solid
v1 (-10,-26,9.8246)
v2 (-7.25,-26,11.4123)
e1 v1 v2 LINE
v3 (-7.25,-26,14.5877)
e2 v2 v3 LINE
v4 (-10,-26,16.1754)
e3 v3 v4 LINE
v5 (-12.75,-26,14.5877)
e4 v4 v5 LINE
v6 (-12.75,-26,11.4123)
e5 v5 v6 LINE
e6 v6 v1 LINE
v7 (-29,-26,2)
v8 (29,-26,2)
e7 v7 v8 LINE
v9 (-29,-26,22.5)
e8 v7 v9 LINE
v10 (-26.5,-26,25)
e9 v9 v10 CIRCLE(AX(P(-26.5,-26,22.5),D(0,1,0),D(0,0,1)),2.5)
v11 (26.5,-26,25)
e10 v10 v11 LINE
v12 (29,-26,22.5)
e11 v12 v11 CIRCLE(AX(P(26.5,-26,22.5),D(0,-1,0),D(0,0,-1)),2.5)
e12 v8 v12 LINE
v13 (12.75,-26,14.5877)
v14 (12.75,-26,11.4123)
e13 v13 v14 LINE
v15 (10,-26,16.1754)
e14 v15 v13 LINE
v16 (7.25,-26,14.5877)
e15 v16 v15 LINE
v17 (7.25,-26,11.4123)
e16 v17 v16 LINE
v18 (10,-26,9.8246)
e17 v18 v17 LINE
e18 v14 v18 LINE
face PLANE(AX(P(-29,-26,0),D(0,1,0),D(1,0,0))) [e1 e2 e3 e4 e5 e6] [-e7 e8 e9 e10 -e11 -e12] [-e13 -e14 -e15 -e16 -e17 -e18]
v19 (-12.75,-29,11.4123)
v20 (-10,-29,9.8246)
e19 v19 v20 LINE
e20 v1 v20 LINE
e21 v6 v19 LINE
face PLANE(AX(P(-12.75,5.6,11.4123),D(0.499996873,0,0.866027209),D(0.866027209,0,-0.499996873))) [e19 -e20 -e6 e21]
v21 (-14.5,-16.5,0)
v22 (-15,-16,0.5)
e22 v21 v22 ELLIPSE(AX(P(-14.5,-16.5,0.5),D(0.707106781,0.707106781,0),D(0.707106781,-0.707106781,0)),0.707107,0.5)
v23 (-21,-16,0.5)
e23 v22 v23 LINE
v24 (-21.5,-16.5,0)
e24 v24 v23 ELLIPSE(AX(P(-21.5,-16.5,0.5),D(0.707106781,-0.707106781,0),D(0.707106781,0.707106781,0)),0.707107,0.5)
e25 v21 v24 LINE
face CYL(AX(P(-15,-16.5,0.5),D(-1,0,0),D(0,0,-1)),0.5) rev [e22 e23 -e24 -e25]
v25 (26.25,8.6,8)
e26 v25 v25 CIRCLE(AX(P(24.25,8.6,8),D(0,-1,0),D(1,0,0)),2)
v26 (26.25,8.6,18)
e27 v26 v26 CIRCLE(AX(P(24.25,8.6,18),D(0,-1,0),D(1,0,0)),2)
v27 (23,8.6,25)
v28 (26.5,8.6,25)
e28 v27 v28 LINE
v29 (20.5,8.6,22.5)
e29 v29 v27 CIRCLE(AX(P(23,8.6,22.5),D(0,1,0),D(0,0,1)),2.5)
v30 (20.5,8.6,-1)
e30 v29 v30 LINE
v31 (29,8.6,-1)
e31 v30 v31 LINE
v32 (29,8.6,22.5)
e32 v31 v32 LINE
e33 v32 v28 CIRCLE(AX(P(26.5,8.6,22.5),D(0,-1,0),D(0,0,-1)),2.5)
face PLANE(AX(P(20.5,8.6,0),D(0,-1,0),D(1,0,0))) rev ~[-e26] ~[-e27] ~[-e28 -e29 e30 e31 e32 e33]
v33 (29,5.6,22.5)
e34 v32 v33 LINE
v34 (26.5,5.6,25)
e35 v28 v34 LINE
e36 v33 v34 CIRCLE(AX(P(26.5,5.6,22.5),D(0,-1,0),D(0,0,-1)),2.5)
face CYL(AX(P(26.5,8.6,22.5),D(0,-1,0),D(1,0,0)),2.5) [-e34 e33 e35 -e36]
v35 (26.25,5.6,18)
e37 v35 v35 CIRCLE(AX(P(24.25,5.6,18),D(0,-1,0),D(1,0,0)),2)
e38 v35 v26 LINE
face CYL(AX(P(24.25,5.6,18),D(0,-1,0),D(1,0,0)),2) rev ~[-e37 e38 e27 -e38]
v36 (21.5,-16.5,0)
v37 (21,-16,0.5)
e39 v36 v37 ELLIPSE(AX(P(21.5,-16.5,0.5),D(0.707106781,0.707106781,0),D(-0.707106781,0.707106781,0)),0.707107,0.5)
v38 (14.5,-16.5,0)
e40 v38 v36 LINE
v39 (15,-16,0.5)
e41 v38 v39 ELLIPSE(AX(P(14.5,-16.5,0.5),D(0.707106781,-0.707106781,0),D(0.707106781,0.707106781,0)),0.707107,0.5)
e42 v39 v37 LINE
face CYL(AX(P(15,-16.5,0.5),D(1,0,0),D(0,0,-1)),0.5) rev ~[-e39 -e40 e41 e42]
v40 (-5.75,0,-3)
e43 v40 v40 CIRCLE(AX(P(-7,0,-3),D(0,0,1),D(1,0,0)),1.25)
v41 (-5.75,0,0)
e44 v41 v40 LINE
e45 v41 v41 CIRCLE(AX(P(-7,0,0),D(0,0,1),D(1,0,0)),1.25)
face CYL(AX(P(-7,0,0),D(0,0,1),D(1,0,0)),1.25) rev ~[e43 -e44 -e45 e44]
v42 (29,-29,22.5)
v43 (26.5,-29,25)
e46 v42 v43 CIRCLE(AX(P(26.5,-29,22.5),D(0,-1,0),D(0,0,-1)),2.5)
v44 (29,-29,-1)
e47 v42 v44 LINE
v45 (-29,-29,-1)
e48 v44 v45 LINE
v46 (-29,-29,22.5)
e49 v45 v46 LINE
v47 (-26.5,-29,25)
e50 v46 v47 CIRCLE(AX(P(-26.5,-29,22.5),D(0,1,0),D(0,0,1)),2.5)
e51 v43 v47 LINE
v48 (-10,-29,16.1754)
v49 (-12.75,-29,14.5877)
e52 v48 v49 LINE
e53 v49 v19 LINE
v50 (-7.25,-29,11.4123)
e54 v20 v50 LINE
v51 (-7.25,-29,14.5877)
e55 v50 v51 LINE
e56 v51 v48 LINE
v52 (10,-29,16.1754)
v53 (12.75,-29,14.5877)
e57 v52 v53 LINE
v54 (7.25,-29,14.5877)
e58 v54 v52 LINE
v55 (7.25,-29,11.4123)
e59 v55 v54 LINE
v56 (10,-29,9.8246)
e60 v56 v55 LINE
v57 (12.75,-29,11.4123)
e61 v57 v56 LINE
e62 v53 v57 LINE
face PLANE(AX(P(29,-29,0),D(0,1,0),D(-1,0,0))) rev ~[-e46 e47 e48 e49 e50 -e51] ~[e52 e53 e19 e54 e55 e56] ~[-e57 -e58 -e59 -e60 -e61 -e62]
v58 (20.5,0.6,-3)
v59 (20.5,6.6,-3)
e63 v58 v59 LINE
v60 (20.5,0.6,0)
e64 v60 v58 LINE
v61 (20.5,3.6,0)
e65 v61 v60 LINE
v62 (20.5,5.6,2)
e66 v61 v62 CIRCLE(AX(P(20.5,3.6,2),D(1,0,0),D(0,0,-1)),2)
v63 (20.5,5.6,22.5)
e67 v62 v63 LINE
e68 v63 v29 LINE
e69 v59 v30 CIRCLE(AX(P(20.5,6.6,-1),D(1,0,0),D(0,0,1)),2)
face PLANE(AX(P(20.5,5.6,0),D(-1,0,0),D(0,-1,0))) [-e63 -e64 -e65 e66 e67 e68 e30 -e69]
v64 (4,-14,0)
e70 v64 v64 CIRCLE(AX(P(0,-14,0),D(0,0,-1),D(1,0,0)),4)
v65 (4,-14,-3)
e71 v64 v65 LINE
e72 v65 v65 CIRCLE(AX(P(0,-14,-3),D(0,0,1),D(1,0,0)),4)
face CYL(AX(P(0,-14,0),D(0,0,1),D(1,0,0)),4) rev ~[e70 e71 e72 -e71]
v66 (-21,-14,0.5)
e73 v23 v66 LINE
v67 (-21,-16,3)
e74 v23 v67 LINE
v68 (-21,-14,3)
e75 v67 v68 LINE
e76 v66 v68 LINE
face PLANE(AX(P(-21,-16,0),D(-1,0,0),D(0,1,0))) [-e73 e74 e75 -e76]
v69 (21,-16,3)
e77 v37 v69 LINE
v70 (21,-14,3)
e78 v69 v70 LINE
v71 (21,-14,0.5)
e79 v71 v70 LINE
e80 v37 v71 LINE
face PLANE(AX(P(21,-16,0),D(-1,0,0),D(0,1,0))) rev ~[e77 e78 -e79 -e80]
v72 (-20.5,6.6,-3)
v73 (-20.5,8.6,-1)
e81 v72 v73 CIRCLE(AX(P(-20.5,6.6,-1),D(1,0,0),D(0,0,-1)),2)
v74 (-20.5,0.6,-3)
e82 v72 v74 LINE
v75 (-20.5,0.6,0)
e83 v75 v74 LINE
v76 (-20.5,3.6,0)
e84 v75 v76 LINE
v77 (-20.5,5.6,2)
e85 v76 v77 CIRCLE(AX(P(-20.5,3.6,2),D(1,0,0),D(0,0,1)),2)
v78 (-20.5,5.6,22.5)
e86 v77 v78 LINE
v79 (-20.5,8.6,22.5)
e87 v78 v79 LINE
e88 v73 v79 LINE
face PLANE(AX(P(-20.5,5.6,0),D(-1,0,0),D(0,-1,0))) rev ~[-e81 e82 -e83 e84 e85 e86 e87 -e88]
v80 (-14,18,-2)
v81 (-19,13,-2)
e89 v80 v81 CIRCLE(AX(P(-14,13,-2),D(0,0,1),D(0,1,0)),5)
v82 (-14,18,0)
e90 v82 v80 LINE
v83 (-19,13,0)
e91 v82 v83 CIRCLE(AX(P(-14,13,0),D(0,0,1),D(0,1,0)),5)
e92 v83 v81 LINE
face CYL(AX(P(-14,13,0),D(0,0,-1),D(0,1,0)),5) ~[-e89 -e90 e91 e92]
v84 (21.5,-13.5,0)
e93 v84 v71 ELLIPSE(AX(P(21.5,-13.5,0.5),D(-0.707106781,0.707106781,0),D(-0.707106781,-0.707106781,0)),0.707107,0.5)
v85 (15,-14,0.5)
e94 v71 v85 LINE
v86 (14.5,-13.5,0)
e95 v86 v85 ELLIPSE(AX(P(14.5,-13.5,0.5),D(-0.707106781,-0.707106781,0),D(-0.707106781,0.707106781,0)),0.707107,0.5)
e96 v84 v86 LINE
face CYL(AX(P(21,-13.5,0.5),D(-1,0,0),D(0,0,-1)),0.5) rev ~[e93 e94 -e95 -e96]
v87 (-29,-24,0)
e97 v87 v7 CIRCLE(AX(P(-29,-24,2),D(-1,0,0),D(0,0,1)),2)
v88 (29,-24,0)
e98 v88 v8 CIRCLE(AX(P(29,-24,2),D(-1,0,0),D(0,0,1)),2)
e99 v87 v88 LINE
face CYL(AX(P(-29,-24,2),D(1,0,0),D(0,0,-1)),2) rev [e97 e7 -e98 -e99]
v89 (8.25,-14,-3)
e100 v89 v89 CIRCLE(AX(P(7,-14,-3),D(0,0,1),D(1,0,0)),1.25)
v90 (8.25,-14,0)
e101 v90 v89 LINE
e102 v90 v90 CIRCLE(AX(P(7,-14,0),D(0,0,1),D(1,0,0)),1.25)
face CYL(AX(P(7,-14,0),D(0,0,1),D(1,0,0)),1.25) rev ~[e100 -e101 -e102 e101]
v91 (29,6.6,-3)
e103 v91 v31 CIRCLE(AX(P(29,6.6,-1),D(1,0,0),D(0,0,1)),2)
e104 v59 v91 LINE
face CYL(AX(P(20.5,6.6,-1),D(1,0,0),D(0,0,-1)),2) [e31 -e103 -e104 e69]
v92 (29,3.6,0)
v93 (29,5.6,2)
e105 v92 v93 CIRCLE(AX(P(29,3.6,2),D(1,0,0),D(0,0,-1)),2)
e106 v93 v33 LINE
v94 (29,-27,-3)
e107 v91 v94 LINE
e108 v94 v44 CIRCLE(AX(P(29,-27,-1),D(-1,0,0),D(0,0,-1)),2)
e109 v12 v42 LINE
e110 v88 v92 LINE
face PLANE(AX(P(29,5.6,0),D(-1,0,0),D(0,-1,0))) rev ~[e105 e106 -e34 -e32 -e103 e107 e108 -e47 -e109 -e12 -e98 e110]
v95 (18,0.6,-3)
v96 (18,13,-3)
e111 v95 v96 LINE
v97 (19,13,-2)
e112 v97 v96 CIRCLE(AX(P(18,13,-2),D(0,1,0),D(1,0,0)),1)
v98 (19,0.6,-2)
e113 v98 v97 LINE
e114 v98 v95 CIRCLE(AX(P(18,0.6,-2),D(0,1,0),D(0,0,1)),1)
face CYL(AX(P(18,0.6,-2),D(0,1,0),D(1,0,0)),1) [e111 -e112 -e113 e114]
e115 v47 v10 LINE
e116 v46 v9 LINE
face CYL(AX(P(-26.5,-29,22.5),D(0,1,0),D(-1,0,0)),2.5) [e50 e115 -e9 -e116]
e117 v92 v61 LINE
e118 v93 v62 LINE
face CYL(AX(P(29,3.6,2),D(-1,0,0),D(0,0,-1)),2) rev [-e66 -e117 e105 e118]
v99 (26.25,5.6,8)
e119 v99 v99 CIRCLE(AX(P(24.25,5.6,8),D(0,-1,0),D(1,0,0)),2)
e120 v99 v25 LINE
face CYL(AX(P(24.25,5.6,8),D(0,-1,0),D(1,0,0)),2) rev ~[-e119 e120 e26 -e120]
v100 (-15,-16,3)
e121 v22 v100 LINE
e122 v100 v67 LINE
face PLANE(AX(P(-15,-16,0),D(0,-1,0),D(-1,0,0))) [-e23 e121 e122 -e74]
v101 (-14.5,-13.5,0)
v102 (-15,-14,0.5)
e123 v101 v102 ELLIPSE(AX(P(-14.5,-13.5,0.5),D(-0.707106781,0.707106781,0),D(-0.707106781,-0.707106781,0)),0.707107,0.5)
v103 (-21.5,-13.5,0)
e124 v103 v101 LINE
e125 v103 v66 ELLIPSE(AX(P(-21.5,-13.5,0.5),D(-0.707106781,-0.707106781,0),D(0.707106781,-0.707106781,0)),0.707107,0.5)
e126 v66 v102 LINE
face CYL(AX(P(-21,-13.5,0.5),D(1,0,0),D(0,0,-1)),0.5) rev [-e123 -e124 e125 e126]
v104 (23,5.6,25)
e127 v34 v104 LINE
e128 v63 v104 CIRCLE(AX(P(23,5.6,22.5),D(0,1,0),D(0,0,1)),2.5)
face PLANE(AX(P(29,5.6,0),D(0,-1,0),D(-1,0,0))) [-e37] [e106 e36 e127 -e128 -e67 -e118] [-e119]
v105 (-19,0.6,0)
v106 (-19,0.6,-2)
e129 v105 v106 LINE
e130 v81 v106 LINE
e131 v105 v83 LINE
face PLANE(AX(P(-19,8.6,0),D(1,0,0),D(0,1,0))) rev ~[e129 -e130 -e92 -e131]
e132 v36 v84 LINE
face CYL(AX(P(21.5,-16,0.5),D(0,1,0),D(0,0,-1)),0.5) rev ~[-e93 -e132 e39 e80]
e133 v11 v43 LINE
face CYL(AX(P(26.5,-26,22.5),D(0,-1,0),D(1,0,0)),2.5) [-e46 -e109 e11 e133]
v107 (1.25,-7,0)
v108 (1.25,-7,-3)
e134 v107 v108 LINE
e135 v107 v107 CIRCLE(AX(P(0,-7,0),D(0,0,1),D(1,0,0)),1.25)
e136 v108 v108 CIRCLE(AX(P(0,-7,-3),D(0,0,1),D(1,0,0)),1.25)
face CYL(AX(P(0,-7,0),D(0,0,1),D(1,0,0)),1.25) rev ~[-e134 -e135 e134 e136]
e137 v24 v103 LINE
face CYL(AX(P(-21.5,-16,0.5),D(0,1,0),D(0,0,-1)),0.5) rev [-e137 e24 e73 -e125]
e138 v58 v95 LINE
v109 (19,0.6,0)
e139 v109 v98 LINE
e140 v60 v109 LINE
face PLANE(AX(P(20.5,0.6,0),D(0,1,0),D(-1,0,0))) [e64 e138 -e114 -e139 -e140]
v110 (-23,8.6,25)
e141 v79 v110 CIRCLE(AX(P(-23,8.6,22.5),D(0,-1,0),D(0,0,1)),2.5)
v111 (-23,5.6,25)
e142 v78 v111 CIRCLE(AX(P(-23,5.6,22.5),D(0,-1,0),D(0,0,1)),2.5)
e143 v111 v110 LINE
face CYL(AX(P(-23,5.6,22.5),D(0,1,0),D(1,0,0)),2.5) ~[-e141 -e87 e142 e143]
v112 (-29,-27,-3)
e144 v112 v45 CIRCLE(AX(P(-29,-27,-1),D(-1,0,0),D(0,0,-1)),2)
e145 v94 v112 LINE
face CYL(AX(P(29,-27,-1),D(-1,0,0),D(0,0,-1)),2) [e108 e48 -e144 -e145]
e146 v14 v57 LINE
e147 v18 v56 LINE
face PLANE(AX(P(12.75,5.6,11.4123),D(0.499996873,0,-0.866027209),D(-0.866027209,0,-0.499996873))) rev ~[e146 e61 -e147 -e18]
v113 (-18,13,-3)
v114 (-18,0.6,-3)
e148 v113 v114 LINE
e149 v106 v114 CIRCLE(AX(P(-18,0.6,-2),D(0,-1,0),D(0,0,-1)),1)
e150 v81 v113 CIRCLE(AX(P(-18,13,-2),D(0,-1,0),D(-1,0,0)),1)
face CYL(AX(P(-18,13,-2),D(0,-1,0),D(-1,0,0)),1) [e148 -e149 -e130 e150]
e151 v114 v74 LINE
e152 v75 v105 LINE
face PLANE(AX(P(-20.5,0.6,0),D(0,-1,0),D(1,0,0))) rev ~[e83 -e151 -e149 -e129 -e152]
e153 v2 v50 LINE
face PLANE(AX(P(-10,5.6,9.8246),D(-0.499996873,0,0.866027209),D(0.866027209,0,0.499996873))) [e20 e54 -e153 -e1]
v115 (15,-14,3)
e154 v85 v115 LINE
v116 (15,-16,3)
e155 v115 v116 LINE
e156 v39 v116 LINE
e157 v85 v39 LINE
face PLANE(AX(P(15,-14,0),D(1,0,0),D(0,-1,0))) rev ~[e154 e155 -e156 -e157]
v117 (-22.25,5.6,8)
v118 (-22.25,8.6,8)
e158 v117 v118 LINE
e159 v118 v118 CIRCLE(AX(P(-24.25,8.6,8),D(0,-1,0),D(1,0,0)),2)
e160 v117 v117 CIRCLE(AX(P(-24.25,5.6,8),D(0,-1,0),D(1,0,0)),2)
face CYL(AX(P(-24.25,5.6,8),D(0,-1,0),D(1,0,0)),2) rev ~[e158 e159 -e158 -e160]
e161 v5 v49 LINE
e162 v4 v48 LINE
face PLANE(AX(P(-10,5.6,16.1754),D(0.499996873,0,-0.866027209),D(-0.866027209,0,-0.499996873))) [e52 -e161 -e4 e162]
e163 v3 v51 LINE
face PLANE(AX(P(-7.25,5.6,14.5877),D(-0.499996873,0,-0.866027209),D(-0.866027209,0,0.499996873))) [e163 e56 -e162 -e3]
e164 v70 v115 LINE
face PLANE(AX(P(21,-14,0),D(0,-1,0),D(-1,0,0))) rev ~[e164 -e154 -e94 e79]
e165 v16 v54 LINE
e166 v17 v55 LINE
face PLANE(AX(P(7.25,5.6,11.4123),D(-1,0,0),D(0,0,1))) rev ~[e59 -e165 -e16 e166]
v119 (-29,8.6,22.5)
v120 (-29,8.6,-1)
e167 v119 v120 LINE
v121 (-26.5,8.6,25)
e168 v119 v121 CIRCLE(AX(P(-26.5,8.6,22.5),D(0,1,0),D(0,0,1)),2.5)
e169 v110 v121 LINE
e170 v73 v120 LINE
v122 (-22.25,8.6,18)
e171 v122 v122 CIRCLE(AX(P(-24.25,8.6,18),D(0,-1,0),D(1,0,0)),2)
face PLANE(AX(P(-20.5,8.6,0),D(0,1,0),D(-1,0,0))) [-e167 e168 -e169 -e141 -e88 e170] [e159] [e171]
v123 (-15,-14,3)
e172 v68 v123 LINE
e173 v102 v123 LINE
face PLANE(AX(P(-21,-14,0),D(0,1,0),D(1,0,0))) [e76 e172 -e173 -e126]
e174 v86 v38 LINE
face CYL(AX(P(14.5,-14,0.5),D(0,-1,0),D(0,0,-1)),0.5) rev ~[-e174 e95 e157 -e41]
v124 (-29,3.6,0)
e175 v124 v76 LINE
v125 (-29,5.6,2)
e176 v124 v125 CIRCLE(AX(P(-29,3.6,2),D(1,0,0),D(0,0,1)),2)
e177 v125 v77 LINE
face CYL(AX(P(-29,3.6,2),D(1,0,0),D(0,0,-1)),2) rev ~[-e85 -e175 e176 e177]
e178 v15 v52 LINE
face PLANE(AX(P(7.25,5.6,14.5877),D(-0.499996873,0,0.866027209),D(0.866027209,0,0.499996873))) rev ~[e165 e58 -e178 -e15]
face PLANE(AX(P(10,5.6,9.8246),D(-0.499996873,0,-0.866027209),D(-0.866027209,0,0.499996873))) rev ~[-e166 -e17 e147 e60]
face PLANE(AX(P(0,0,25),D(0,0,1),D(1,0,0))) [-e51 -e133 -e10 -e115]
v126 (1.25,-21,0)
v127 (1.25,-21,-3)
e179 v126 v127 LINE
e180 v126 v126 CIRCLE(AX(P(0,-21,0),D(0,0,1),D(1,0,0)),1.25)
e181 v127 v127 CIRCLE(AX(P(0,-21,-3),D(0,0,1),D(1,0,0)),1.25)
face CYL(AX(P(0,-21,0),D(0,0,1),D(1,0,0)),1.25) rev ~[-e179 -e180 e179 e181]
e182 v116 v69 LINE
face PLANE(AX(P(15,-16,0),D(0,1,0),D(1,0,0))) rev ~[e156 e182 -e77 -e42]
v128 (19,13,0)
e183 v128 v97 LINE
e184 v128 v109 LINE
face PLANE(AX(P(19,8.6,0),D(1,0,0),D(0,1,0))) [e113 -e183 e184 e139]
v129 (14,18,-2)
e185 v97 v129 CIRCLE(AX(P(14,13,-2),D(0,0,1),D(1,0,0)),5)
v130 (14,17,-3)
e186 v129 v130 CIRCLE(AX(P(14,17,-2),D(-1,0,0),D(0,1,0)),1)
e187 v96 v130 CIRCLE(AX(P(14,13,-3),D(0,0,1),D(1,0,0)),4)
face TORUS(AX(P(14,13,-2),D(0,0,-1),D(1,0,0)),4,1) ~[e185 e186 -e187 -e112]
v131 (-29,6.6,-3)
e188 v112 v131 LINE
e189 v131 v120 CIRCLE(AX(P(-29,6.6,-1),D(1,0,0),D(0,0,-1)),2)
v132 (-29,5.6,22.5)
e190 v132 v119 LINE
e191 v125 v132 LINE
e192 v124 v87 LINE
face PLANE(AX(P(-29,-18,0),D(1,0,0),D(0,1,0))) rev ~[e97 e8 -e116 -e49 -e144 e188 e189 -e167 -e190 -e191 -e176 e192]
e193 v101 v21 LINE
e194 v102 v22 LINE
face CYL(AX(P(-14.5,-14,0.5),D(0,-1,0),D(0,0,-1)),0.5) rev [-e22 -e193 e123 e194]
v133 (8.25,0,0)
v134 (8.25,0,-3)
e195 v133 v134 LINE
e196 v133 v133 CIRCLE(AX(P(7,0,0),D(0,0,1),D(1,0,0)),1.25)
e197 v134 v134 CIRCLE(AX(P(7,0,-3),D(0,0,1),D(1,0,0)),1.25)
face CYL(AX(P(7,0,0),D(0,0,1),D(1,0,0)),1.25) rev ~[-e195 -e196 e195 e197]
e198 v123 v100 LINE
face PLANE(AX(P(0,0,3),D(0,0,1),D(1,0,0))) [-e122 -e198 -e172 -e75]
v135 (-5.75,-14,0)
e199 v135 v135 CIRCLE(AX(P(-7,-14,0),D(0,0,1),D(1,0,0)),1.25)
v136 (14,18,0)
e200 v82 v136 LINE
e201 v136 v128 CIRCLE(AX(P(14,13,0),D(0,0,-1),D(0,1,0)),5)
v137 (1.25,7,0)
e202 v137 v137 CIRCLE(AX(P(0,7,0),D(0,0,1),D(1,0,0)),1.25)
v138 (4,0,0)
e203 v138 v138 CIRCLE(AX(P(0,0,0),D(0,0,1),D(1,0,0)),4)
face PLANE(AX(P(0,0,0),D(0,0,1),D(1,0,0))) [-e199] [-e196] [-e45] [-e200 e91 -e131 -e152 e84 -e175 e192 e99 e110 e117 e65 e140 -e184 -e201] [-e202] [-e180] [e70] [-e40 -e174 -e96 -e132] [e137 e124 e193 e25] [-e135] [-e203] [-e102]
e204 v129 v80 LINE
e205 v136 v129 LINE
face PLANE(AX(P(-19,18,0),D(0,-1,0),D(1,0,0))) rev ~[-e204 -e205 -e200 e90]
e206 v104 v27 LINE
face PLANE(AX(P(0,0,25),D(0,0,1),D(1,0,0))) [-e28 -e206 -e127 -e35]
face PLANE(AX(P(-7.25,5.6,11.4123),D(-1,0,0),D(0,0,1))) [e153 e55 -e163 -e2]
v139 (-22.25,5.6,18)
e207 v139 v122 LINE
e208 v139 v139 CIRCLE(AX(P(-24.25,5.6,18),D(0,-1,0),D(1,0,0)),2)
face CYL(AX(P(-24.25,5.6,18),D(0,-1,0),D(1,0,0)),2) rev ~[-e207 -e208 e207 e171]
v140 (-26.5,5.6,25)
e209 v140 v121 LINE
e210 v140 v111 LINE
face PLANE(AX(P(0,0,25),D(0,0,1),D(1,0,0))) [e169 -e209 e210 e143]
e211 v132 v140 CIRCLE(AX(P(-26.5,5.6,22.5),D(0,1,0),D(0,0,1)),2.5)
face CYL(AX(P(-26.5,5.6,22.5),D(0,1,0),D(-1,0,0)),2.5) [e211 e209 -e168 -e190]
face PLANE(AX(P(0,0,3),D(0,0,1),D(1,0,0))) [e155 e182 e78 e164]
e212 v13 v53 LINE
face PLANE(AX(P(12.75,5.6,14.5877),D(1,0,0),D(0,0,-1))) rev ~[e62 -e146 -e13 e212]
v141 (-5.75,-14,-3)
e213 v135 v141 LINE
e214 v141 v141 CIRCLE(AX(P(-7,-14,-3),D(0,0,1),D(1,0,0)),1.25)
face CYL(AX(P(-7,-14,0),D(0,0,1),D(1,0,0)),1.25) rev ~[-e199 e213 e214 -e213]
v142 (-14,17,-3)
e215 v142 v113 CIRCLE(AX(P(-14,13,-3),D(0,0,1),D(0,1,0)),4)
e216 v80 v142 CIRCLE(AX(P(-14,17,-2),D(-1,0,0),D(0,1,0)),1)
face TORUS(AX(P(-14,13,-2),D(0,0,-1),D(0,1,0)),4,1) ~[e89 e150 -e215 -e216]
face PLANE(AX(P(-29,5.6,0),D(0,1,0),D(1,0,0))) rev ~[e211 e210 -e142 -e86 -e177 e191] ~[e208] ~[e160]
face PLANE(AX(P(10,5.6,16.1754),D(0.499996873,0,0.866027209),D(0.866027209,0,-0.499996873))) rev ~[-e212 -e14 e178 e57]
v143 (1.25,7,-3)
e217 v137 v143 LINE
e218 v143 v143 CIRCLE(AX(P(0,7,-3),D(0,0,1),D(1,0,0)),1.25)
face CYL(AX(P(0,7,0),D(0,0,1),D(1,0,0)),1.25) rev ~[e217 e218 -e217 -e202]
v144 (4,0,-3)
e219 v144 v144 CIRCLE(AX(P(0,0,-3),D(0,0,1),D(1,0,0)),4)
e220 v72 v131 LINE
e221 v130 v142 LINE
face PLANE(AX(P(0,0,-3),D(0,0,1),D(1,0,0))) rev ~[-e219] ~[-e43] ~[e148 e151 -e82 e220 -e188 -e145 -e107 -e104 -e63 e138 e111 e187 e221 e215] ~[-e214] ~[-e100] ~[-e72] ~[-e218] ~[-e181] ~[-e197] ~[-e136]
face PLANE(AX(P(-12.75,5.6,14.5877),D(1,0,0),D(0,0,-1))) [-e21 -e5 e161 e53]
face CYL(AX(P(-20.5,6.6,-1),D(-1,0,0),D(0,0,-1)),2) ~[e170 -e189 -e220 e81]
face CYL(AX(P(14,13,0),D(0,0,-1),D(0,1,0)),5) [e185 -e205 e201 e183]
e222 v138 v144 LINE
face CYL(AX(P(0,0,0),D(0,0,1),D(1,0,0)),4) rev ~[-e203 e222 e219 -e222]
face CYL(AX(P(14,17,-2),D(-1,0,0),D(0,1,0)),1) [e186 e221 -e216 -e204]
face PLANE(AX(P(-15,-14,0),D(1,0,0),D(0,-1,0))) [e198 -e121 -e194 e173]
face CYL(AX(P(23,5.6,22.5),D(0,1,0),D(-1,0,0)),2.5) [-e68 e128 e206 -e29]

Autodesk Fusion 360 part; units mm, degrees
sketch "Sketch1" plane through (0, 0, 0) normal (0, 0, 1) x (1, 0, 0)
  line L0 (-29, 18) -> (29, 18)
  line L1 (29, 18) -> (29, -18)
  line L2 (29, -18) -> (-29, -18)
  line L3 (-29, -18) -> (-29, 18)
  line L4 (-29, 18) -> (29, -18) construction
  line L5 (29, 18) -> (-29, -18) construction
  line L6 (29, 8.6) -> (-29, 8.6) construction
  line L7 (-29, -18) -> (-29, -26)
  line L8 (-29, -26) -> (29, -26)
  line L9 (29, -26) -> (29, -18)
  line L10 (29, -26) -> (29, -29)
  line L11 (29, -29) -> (-29, -29)
  line L12 (-29, -29) -> (-29, -26)
  line L13 (-29, 5.6) -> (-20.5, 5.6)
  line L14 (-20.5, 5.6) -> (-20.5, 8.6)
  line L15 (-20.5, 8.6) -> (-29, 8.6)
  line L16 (-20.5, 5.6) -> (-20.5, 0.6)
  line L17 (-20.5, 0.6) -> (-19, 0.6)
  line L18 (-19, 0.6) -> (-19, 8.6)
  line L19 (0, -29) -> (0, 18) construction
  line L20 (20.5, 8.6) -> (29, 8.6)
  line L21 (20.5, 5.6) -> (20.5, 8.6)
  line L22 (29, 5.6) -> (20.5, 5.6)
  line L23 (20.5, 5.6) -> (20.5, 0.6)
  line L24 (20.5, 0.6) -> (19, 0.6)
  line L25 (19, 0.6) -> (19, 8.6)
  circle A0 centre (0, 0) radius 4
  circle A1 centre (0, 0) radius 7 construction
  circle A2 centre (0, 7) radius 1.25
  circle A3 centre (-7, 0) radius 1.25
  circle A4 centre (0, -7) radius 1.25
  circle A5 centre (7, 0) radius 1.25
  line L26 (-19, 8.6) -> (-20.5, 8.6)
  line L27 (19, 8.6) -> (20.5, 8.6)
  line L28 (-19, 8.6) -> (-19, 18)
  line L29 (19, 8.6) -> (19, 18)
  line L30 (-21, -14) -> (-15, -14)
  line L31 (-15, -14) -> (-15, -16)
  line L32 (-15, -16) -> (-21, -16)
  line L33 (-21, -16) -> (-21, -14)
  line L34 (15, -14) -> (15, -16)
  line L35 (21, -16) -> (21, -14)
  line L36 (15, -16) -> (21, -16)
  line L37 (21, -14) -> (15, -14)
  line L38 (0, -7) -> (29, -7) construction
  circle A6 centre (0, -14) radius 4
  circle A7 centre (0, -21) radius 1.25
  circle A8 centre (7, -14) radius 1.25
  circle A9 centre (-7, -14) radius 1.25
  dimension "d4" = 36
  dimension "d5" = 58
  dimension "d9" = 26.6
  dimension "d11" = 8
  dimension "d12" = 8
  dimension "d13" = 3
  dimension "d14" = 3
  dimension "d16" = 8.5
  dimension "d17" = 3
  dimension "d18" = 1.5
  dimension "d19" = 8
  dimension "d22" = 8
  dimension "d23" = 14
  dimension "d24" = 2.5
  dimension "d26" = 360
  dimension "d56" = 2
  dimension "d57" = 6
  dimension "d58" = 8
  dimension "d59" = 2
extrude "Extrude3" add sketch "Sketch1" against normal blind 3 contours L0 L1 L2 L3 L13 L16 L17 L18 L22 L23 L24 L25 L28 L29 | L3 L13 L14 L15 | L2 L7 L8 L9 | L1 L20 L21 L22 | L8 L10 L11 L12 | L30 L31 L32 L33 | L34 L35 L36 L37
extrude "Extrude4" add sketch "Sketch1" along normal blind 25 contours L3 L13 L14 L15 | L1 L20 L21 L22 | L8 L10 L11 L12
fillet "Fillet1" radius 2.5 6 edges at (29, -27.5, 25) (-29, -27.5, 25) (29, 7.1, 25) (-29, 7.1, 25) (-20.5, 7.1, 25) (20.5, 7.1, 25)
fillet "Fillet2" radius 5 2 edges at (19, 18, -1.5) (-19, 18, -1.5)
fillet "Fillet3" radius 2 6 edges at (0, -26, 0) (0, -29, -3) (24.75, 5.6, 0) (24.75, 8.6, -3) (-24.75, 8.6, -3) (-24.75, 5.6, 0)
fillet "Fillet3" radius 1 6 edges at (-19, 6.8, -3) (-17.5355, 16.5355, -3) (0, 18, -3) (17.5355, 16.5355, -3) (19, 10.8, -3) (19, 4.6, -3)
sketch "Sketch3" plane through (0, 5.6, 0) normal (0, -1, 0) x (1, 0, 0)
  line L0 (-29, 2) -> (-20.5, 2)
  line L1 (-20.5, 2) -> (-20.5, 22.5)
  arc A0 (-20.5, 22.5) -> (-23, 25) centre (-23, 22.5) ccw
  line L2 (-23, 25) -> (-26.5, 25)
  arc A1 (-26.5, 25) -> (-29, 22.5) centre (-26.5, 22.5) ccw
  line L3 (-29, 22.5) -> (-29, 2)
  line L4 (0, 0) -> (0, 25) construction
  line L5 (0, 0) -> (-24.25, 0) construction
  line L6 (-24.25, 0) -> (-24.25, 25) construction
  line L7 (-24.25, 12.5) -> (0, 12.5) construction
  circle A2 centre (-24.25, 8) radius 2
  circle A3 centre (-24.25, 18) radius 2
  line L8 (-7.25, 14.5877) -> (-10, 16.1754)
  line L9 (-10, 16.1754) -> (-12.75, 14.5877)
  line L10 (-12.75, 14.5877) -> (-12.75, 11.4123)
  line L11 (-12.75, 11.4123) -> (-10, 9.8246)
  line L12 (-10, 9.8246) -> (-7.25, 11.4123)
  line L13 (-7.25, 11.4123) -> (-7.25, 14.5877)
  circle A4 centre (24.25, 18) radius 2
  circle A5 centre (24.25, 8) radius 2
  line L14 (12.75, 11.4123) -> (10, 9.8246)
  line L15 (12.75, 14.5877) -> (12.75, 11.4123)
  line L16 (10, 16.1754) -> (12.75, 14.5877)
  line L17 (7.25, 14.5877) -> (10, 16.1754)
  line L18 (7.25, 11.4123) -> (7.25, 14.5877)
  line L19 (10, 9.8246) -> (7.25, 11.4123)
  point P0 (-10, 13)
  dimension "d49" = 25
  dimension "d50" = 24.25
  dimension "d51" = 25
  dimension "d52" = 4
  dimension "d53" = 4.5
  dimension "d54" = 10
  dimension "d55" = 4
  dimension "d64" = 2.75
  dimension "d65" = 0.5
  dimension "d66" = 14.25
extrude "Extrude5" add sketch "Sketch1" along normal blind 3 contours L30 L31 L32 L33 | L34 L35 L36 L37
fillet "Fillet4" radius 0.5 8 edges at (18, -14, 0) (21, -15, 0) (18, -16, 0) (15, -15, 0) (-15, -15, 0) (-18, -14, 0) (-21, -15, 0) (-18, -16, 0)
extrude "Extrude6" cut sketch "Sketch3" against normal through all contours A2 | A3 | A4 | A5
extrude "Extrude7" cut sketch "Sketch3" along normal blind 42 contours L8 L9 L10 L11 L12 L13 | L14 L15 L16 L17 L18 L19
equation "thickness = 3 mm"
equation "base_width = 36 mm"
equation "base_length = 58 mm"
equation "d4 = base_width"
equation "d5 = base_length"
equation "d9 = servoHolder_height"
equation "servo_clearence = 8 mm"
equation "d11 = servo_clearence"
equation "d12 = servo_clearence"
equation "d13 = thickness"
equation "d14 = thickness"
equation "servoHolder_height = 26.6 mm"
equation "d17 = thickness"
equation "main_hole = 8 mm"
equation "titner_hole = 2.5 mm"
equation "d22 = main_hole"
equation "d24 = titner_hole"
equation "base_height = 25 mm"
equation "d32 = -thickness"
equation "d34 = base_height"
equation "d50 = ( 48.5 / 2 ) * 1 mm"
equation "d64 = ( 5.5 / 2 ) * 1 mm"
